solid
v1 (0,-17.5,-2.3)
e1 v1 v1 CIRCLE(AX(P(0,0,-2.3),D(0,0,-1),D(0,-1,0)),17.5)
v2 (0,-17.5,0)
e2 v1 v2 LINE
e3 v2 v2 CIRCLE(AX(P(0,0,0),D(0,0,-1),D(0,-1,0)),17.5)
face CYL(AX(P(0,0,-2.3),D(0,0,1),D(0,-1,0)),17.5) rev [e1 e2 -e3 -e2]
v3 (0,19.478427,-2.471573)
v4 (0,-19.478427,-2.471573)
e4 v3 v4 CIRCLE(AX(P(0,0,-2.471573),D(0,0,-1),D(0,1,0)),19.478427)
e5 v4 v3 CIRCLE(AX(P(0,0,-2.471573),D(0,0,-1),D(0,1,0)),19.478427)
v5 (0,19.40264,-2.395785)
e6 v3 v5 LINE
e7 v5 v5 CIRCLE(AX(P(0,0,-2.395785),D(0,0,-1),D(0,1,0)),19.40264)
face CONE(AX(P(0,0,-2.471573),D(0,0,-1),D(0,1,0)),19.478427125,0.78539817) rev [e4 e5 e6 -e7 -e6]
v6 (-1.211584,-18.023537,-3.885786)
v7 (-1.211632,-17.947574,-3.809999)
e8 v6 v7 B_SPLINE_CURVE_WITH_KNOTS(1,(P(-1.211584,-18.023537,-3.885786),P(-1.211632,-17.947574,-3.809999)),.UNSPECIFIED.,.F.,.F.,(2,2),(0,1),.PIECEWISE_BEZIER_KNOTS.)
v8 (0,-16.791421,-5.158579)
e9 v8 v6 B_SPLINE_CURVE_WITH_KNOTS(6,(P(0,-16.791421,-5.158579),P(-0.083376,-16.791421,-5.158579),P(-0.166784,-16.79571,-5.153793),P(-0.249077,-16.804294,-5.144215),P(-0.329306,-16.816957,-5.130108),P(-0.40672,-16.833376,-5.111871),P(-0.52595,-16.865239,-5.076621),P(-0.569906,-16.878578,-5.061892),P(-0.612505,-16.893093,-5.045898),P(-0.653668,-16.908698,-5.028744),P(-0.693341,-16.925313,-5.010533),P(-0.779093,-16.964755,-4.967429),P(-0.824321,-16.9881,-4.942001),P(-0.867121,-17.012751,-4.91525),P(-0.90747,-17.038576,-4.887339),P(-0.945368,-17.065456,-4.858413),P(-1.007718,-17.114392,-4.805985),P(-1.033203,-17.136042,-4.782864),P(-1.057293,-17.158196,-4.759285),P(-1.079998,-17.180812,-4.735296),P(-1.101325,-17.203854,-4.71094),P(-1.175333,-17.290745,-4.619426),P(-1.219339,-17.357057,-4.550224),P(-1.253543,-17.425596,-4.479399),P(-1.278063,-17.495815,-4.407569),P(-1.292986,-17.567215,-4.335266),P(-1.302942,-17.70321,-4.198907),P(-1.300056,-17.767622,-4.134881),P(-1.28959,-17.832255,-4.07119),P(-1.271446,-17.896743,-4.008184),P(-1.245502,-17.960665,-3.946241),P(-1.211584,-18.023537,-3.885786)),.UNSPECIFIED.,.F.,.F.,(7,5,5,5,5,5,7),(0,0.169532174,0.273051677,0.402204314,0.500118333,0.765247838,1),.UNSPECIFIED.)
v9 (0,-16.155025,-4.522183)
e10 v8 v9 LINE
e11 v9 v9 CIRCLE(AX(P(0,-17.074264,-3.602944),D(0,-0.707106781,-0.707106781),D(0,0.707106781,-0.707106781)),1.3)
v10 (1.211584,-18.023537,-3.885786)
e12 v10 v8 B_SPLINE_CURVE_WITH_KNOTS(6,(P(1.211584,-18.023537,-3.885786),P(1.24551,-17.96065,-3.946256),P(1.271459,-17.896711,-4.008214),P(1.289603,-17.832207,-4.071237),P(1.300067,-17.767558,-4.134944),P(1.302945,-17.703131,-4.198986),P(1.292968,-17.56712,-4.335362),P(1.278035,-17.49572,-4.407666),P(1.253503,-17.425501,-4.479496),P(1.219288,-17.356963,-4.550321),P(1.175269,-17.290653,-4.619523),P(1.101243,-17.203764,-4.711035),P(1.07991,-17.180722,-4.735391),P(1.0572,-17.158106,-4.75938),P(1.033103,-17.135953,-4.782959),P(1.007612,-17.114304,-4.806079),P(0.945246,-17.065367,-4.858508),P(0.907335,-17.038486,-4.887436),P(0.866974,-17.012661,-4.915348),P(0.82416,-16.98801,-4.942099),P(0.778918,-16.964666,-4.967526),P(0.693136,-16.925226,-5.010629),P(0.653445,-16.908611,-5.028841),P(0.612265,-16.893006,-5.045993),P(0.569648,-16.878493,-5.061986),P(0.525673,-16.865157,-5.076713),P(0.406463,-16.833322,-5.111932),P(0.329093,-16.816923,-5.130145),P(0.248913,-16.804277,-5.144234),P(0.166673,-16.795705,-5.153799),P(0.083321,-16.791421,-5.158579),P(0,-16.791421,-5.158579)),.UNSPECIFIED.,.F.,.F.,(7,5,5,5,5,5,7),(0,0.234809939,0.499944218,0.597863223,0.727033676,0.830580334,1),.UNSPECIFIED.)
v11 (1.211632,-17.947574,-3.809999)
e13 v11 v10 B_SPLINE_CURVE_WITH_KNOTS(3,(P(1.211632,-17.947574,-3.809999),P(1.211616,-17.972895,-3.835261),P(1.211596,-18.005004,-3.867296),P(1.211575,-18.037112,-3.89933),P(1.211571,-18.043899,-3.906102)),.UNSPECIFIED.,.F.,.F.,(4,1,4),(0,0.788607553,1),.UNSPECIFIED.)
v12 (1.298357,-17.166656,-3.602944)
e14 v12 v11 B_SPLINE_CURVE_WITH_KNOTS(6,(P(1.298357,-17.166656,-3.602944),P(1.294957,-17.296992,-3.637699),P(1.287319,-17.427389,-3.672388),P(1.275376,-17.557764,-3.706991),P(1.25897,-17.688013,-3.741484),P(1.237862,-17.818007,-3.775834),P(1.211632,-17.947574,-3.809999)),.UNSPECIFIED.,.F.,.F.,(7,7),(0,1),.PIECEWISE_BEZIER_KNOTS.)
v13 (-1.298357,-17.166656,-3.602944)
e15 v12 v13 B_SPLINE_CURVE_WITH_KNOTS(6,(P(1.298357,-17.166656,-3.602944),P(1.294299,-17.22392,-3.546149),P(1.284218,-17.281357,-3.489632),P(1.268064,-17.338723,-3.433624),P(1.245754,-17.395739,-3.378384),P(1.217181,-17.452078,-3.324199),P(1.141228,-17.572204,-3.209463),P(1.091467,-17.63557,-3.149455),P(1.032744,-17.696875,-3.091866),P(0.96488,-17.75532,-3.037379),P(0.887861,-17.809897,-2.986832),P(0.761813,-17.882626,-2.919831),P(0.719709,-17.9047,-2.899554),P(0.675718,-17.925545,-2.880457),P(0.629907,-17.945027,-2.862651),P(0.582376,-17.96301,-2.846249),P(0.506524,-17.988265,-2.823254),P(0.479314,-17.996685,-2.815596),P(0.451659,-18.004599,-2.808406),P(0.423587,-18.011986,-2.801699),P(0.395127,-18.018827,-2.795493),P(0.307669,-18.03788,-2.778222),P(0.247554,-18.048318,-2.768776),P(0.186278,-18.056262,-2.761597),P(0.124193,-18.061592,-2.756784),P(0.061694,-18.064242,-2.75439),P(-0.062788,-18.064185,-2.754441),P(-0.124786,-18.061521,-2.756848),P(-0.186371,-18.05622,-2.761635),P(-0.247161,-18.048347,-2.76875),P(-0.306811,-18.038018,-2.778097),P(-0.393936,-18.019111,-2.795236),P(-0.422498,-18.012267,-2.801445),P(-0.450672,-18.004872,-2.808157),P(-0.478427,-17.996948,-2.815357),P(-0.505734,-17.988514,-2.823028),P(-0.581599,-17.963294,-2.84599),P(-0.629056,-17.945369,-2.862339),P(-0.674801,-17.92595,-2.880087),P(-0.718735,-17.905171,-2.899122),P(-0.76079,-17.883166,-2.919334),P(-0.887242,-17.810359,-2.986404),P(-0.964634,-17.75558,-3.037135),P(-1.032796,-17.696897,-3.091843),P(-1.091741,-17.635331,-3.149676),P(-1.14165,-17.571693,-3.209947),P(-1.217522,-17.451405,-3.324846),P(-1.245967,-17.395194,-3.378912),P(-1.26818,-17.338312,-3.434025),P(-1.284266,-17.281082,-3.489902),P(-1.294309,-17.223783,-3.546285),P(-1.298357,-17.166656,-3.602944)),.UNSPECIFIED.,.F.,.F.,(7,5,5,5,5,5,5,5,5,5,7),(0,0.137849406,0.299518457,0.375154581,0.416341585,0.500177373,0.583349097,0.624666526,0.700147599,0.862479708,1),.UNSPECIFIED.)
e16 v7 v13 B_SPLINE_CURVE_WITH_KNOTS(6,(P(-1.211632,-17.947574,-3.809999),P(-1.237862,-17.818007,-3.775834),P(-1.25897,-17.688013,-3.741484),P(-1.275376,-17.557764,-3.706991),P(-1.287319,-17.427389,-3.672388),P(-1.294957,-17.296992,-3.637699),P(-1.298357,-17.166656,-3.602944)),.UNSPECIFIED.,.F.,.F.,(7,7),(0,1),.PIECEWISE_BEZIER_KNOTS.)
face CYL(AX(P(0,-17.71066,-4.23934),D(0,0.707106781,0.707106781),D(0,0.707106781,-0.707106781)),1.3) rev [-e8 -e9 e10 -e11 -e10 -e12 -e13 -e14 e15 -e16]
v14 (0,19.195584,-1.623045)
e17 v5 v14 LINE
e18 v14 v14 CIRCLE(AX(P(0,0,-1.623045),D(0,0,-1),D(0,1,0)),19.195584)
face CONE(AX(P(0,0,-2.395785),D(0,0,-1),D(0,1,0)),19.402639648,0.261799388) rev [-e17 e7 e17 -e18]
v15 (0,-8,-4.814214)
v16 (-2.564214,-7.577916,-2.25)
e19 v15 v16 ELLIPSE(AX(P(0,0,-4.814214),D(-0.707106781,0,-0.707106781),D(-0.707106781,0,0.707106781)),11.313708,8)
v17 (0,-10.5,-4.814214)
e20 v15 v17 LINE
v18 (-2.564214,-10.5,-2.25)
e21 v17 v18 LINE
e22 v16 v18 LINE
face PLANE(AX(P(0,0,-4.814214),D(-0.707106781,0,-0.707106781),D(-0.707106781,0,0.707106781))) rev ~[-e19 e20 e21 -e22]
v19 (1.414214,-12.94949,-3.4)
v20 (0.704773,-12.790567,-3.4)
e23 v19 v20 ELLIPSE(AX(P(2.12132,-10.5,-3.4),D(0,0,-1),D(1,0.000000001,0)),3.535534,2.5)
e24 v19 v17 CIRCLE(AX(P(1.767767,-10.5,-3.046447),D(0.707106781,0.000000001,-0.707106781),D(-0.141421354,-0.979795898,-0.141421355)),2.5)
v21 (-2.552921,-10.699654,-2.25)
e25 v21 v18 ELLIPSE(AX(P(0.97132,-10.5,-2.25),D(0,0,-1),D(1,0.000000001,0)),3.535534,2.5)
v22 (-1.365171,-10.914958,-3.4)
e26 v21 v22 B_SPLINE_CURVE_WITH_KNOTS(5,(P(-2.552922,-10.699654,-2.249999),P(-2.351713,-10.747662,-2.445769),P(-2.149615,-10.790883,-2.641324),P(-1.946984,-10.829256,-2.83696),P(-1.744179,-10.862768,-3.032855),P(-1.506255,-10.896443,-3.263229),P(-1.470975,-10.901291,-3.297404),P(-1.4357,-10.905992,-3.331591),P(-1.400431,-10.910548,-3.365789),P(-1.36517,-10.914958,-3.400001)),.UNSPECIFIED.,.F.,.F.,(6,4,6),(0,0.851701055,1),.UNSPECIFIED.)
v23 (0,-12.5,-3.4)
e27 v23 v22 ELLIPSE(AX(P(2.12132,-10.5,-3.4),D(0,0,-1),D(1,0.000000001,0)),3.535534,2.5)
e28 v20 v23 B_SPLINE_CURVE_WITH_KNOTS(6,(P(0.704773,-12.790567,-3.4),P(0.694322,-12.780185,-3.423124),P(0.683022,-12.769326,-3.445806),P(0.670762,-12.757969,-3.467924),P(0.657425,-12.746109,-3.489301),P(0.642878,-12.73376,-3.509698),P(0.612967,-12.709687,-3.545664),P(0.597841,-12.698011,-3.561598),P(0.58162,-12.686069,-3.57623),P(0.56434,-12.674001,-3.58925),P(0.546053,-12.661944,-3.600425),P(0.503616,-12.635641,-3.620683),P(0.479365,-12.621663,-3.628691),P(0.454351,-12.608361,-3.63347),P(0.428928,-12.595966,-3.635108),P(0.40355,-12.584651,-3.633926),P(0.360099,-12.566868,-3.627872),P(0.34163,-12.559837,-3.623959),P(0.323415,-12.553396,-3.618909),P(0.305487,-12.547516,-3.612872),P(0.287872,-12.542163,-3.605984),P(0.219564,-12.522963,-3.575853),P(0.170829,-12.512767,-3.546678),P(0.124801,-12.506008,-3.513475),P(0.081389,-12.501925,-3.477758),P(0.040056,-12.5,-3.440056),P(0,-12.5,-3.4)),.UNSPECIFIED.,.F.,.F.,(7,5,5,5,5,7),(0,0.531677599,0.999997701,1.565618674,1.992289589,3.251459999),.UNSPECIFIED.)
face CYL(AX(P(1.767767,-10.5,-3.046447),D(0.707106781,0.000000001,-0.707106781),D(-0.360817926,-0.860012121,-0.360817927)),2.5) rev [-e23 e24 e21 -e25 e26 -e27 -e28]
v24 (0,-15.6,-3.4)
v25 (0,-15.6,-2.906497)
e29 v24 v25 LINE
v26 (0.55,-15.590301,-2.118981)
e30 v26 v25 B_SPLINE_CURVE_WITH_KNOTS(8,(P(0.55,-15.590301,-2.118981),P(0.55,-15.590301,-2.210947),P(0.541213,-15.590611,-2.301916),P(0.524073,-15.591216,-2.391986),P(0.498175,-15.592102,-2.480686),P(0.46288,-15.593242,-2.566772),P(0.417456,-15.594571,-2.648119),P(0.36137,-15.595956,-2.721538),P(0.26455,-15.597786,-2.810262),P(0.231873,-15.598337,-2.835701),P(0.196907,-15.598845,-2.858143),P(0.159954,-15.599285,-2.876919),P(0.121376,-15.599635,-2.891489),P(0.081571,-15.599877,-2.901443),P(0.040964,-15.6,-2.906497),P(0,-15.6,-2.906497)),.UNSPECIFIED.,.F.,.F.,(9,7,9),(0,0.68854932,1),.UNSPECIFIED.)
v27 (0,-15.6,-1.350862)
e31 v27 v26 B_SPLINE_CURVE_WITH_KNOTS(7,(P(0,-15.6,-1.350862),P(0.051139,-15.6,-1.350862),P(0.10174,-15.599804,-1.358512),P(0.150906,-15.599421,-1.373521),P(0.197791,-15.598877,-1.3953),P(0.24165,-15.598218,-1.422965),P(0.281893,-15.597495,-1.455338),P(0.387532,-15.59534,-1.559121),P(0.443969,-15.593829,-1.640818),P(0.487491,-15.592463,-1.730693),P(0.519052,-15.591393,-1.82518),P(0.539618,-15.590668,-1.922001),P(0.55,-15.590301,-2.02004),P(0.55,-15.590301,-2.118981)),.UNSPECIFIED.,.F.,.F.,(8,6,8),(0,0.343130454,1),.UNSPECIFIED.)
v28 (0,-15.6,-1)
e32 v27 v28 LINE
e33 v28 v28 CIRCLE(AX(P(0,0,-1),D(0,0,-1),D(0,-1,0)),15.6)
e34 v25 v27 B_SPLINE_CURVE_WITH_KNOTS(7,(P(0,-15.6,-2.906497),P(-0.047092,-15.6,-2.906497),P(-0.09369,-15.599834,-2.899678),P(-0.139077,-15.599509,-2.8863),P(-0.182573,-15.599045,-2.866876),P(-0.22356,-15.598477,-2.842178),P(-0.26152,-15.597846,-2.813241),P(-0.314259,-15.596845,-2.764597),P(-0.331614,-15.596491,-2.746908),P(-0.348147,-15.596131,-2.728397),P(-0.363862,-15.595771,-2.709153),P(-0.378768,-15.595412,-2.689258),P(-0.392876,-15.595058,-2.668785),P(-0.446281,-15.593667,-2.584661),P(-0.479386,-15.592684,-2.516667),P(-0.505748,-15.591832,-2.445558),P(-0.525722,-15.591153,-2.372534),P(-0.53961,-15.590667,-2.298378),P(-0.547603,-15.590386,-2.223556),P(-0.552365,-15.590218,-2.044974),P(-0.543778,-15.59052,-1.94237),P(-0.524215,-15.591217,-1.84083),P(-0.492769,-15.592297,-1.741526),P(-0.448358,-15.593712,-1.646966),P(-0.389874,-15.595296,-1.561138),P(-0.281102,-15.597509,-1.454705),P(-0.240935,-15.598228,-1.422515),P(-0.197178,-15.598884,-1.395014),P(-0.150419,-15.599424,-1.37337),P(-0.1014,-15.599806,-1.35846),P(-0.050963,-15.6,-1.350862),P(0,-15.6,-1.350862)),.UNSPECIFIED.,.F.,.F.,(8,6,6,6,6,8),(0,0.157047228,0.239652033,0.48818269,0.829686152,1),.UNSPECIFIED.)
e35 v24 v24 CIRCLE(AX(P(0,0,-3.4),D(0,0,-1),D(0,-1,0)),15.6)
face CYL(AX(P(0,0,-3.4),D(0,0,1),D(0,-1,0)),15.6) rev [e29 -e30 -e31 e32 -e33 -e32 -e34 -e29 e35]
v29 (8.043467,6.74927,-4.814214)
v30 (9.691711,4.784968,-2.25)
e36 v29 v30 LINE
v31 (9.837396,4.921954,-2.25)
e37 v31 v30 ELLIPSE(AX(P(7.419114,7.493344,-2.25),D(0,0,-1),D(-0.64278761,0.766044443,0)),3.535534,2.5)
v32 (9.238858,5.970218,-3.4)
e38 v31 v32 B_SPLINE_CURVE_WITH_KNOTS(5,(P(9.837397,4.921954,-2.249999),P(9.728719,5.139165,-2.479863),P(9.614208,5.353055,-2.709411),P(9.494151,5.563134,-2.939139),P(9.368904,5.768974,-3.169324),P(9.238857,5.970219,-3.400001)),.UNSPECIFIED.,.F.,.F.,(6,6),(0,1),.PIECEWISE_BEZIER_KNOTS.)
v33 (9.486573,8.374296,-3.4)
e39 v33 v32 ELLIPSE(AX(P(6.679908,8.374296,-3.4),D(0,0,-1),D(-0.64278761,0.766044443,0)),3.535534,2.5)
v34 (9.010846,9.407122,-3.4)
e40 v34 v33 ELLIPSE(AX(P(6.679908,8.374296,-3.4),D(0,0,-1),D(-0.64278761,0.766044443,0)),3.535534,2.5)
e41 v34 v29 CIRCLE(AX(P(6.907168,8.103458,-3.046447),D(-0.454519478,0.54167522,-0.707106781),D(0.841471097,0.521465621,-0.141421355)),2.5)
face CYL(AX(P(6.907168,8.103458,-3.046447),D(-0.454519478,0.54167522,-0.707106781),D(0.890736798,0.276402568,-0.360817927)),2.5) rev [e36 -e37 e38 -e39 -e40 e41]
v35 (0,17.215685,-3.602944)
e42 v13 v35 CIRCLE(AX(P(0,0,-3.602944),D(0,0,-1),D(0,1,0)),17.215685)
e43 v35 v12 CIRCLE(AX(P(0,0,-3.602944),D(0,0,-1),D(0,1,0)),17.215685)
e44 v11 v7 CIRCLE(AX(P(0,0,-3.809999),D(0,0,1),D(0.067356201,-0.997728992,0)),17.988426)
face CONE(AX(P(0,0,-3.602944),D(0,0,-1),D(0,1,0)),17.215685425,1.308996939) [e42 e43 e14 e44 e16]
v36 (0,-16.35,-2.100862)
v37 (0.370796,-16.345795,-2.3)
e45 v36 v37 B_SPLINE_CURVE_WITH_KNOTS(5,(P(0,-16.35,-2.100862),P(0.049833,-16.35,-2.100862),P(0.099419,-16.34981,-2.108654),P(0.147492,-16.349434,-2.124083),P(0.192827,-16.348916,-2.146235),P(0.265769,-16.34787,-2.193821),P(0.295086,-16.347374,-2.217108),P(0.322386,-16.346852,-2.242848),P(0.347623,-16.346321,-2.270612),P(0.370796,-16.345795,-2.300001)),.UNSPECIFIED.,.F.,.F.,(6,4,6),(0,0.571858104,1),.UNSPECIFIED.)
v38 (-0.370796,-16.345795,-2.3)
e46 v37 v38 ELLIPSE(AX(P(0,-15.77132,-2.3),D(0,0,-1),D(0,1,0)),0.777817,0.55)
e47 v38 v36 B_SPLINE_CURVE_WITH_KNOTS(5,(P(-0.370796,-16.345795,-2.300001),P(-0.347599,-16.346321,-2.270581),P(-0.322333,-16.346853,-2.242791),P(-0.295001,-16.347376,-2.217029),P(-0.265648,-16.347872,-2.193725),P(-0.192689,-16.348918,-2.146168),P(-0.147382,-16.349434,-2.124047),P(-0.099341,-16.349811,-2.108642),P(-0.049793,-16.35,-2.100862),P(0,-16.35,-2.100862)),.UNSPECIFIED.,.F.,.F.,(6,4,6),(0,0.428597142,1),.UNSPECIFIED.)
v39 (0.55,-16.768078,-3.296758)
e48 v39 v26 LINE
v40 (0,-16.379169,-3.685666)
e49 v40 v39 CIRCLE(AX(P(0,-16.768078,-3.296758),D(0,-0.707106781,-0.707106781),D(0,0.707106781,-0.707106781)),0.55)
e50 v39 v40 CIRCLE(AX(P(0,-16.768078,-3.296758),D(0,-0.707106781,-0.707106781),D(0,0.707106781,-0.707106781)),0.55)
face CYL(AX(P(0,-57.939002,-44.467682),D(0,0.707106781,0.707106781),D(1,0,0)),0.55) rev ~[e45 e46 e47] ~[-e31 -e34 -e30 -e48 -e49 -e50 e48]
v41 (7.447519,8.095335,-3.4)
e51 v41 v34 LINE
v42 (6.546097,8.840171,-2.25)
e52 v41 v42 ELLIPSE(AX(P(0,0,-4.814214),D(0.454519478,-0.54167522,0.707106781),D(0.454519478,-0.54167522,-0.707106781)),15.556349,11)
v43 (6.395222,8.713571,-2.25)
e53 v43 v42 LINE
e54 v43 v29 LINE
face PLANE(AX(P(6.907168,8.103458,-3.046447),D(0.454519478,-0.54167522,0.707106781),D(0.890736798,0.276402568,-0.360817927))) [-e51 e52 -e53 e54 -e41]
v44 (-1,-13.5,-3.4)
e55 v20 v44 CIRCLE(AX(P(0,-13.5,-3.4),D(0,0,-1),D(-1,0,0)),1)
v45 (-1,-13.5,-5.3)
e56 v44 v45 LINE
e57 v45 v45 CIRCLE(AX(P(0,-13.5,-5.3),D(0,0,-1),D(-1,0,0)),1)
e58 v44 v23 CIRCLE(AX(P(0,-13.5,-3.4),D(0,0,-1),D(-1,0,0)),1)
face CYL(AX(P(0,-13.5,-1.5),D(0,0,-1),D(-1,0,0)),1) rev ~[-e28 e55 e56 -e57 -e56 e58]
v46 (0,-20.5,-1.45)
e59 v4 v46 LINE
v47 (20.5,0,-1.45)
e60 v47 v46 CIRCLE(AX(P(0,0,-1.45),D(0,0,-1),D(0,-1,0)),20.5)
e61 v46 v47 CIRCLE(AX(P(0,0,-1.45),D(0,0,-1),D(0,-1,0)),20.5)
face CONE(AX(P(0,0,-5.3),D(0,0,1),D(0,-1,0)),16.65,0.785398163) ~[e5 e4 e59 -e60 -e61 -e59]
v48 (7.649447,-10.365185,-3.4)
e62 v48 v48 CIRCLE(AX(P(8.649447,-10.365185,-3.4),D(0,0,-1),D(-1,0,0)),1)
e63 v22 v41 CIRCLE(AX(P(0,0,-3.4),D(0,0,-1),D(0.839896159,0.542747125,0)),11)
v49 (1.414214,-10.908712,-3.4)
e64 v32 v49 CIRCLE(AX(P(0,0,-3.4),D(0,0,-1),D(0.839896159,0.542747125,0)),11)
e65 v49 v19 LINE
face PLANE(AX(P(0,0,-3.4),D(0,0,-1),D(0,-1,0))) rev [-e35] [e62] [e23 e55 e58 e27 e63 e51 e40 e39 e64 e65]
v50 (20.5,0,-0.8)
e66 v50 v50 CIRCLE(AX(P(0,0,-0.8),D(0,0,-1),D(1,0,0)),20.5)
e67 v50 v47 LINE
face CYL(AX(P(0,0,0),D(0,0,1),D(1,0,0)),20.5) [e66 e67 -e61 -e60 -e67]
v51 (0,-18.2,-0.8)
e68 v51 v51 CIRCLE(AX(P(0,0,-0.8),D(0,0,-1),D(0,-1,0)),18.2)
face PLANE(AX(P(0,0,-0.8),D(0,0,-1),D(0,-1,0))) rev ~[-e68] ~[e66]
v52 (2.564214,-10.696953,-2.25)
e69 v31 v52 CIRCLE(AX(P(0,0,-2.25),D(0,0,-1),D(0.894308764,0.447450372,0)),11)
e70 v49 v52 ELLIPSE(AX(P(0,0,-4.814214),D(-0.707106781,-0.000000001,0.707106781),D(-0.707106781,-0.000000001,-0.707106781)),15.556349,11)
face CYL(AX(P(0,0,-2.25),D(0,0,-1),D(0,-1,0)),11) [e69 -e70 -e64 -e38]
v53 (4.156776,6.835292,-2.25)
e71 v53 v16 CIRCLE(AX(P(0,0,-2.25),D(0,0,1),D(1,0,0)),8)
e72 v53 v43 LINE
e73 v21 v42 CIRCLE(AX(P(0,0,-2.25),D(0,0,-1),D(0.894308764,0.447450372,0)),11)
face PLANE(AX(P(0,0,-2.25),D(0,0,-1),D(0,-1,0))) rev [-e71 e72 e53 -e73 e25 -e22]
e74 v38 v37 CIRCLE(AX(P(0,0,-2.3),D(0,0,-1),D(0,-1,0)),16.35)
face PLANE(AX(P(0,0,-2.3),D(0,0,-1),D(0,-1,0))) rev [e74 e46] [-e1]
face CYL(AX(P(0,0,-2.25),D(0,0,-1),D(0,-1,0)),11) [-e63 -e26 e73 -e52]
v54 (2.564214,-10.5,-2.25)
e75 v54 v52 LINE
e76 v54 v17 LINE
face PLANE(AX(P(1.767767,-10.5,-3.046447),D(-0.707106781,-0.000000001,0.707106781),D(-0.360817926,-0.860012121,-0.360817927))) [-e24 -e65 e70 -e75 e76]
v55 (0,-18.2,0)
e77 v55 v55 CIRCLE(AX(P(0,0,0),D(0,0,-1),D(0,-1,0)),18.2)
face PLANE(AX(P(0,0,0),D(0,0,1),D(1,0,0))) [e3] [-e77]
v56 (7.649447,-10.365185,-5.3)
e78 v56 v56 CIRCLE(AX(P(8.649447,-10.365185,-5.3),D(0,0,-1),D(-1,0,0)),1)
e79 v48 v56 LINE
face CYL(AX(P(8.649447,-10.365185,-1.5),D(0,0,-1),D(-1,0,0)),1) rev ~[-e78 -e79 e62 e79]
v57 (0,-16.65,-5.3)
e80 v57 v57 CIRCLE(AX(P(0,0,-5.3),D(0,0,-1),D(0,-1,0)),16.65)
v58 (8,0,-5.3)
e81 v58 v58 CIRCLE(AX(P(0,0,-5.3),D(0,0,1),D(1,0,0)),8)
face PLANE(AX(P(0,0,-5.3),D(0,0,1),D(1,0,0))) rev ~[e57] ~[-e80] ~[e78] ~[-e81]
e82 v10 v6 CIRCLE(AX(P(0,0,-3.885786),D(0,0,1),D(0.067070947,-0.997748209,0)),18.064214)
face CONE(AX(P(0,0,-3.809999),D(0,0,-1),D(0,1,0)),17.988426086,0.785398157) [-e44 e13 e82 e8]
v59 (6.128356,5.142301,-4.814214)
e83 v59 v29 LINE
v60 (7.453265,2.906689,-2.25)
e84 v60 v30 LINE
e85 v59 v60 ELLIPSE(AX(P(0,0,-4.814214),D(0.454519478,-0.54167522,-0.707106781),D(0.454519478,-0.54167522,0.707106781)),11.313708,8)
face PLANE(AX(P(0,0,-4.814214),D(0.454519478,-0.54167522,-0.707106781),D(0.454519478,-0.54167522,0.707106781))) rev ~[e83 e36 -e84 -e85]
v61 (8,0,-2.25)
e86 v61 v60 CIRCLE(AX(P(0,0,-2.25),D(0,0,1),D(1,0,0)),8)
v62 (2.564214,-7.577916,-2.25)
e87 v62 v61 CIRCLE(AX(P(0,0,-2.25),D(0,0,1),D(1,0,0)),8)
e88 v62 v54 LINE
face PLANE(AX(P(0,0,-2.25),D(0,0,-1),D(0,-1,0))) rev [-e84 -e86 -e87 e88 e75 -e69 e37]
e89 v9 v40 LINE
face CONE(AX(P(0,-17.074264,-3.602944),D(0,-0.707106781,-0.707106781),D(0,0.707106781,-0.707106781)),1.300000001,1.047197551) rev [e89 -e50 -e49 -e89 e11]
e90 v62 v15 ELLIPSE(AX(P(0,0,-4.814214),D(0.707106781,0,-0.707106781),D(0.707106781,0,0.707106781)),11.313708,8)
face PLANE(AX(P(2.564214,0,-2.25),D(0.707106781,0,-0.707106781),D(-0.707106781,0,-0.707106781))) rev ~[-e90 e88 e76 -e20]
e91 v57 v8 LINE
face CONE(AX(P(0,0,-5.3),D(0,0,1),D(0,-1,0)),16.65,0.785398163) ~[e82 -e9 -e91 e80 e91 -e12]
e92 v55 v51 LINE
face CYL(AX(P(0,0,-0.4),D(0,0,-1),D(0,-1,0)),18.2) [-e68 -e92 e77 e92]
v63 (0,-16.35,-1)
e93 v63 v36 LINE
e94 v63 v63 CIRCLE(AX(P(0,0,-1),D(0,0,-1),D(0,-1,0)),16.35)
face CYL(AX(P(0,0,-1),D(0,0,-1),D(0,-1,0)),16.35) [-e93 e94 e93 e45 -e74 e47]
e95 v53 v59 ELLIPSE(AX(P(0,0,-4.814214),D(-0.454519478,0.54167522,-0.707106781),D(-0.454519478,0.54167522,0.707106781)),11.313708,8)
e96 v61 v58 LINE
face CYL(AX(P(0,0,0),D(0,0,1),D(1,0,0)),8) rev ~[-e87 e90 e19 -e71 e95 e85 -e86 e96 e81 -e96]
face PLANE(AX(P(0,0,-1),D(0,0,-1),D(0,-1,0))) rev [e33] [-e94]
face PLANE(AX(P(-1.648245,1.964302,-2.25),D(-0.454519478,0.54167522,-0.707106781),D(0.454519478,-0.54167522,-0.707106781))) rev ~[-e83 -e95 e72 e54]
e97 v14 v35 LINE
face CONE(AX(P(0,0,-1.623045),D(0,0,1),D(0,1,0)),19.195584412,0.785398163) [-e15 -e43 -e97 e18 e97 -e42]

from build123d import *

# Parameters (mm, degrees)
SKETCH1_R                    = 20.5
BOSS_EXTRUDE1_DEPTH          = 5.3
SKETCH4_R                    = 8
CUT_EXTRUDE1_DEPTH           = 6.3
SKETCH6_W                    = 0.8
SKETCH6_H                    = 2.3
CUT_EXTRUDE2_DEPTH           = 10.5
CIRPATTERN3_COUNT            = 2
CIRPATTERN3_ANGLE            = 130
F_2_0_2_DIAMETER_HOLE1_D     = 2
F_2_0_2_DIAMETER_HOLE1_DEPTH = 1.9
M1_4X0_3_TAPPED_HOLE1_D      = 1.1
SKETCH41_R                   = 2.5
CUT_EXTRUDE9_DEPTH           = 3.626346
CIRPATTERN11_COUNT           = 2
CIRPATTERN11_ANGLE           = 130


with BuildPart() as part:
    # Sketch1 → Boss-Extrude1 (new body)
    with BuildSketch(Plane.XY):
        Circle(SKETCH1_R)
    extrude(amount=-BOSS_EXTRUDE1_DEPTH)

    # Sketch4 → Cut-Extrude1 (cut, through all)
    with BuildSketch(Plane.XY):
        Circle(SKETCH4_R)
    extrude(amount=-CUT_EXTRUDE1_DEPTH, mode=Mode.SUBTRACT)

    # Sketch3 → Cut-Revolve1 (revolve, cut)
    with BuildSketch(Plane(origin=(0, 0, 0), x_dir=(0, 0, -1), z_dir=(1, 0, 0))):
        Polygon((2.25, 0), (2.25, -11), (3.4, -11), (3.4, -15.6), (1, -15.6), (1, -16.35), (2.3, -16.35), (2.3, -17.5), (0, -17.5), (0, 0), align=None)
    revolve(axis=Axis((0, 0, 0), (0, 0, -1)), mode=Mode.SUBTRACT)

    # Sketch6 → Cut-Revolve2 (revolve, cut)
    with BuildSketch(Plane(origin=(0, 0, 0), x_dir=(0, 0, -1), z_dir=(1, 0, 0))):
        with Locations((0.4, -19.35)):
            Rectangle(SKETCH6_W, SKETCH6_H)
        Polygon((5.3, -16.65), (1.45, -20.5), (5.3, -20.5), align=None)
    revolve(axis=Axis((0, 0, 0), (0, 0, -1)), mode=Mode.SUBTRACT)

    # Sketch7 → Cut-Revolve3 (revolve, cut)
    with BuildSketch(Plane(origin=(0, 0, 0), x_dir=(0, 0, -1), z_dir=(1, 0, 0))):
        Polygon((1.623044738, 19.195584412), (3.602943725, 17.215685425), (3.809998961, 17.988426086), (3.885786438, 18.064213562), (2.471572875, 19.478427125), (2.395785399, 19.402639648), align=None)
    revolve(axis=Axis((0, 0, 0), (0, 0, -1)), mode=Mode.SUBTRACT)

    # Sketch12 → Cut-Extrude2 (cut)
    with BuildSketch(Plane(origin=(0, 0, 0), x_dir=(1, 0, 0), z_dir=(0, 1, 0))):
        Polygon((0, 4.814213562), (-2.564213562, 2.25), (2.564213562, 2.25), align=None)
    cut_extrude2 = extrude(amount=-CUT_EXTRUDE2_DEPTH, mode=Mode.SUBTRACT)

    # CirPattern3: Cut-Extrude2 ×2 about axis
    cirpattern3_axis = Axis((0, 0, 0), (0, 0, 1))
    for i in range(1, CIRPATTERN3_COUNT):
        add(cut_extrude2.rotate(cirpattern3_axis, i * CIRPATTERN3_ANGLE / (CIRPATTERN3_COUNT - 1)), mode=Mode.SUBTRACT)

    # 2.0 _2_ Diameter Hole1
    with Locations(Plane.XY.offset(-3.4)):
        with Locations((0, -13.5), (8.649447154, -10.365185185)):
            Hole(F_2_0_2_DIAMETER_HOLE1_D / 2, depth=F_2_0_2_DIAMETER_HOLE1_DEPTH)

    # Sketch26 → Cut-Revolve4 (revolve, cut)
    with BuildSketch(Plane(origin=(0, 0, 0), x_dir=(0, 0, -1), z_dir=(1, 0, 0))):
        Polygon((5.158578644, -16.791421356), (4.522182541, -16.155025253), (3.685666237, -16.379169121), (3.296757507, -16.768077851), (4.239339828, -17.710660172), align=None)
    revolve(axis=Axis((0, -16.508472243, -3.037151899), (0, -0.707106781, -0.707106781)), mode=Mode.SUBTRACT)

    # M1.4x0.3 Tapped Hole1 (through all)
    with Locations(Plane(origin=(0, -10.032417679, -10.032417679), x_dir=(-1, 0, 0), z_dir=(0, -0.707106781, -0.707106781))):
        with Locations((0, -9.525661966)):
            Hole(M1_4X0_3_TAPPED_HOLE1_D / 2)

    # Sketch41 → Cut-Extrude9 (cut)
    with BuildSketch(Plane(origin=(-1.547258414, 1.843950774, -2.407106781), x_dir=(0.890736799, 0.276402568, -0.360817927), z_dir=(0.454519478, -0.54167522, 0.707106781))):
        with Locations((9.491497809, 4.580281669)):
            Circle(SKETCH41_R)
    cut_extrude9 = extrude(amount=CUT_EXTRUDE9_DEPTH, mode=Mode.SUBTRACT)

    # CirPattern11: Cut-Extrude9 ×2 about axis
    cirpattern11_axis = Axis((0, 0, 0), (0, 0, -1))
    for i in range(1, CIRPATTERN11_COUNT):
        add(cut_extrude9.rotate(cirpattern11_axis, i * CIRPATTERN11_ANGLE / (CIRPATTERN11_COUNT - 1)), mode=Mode.SUBTRACT)


solid = part.part
